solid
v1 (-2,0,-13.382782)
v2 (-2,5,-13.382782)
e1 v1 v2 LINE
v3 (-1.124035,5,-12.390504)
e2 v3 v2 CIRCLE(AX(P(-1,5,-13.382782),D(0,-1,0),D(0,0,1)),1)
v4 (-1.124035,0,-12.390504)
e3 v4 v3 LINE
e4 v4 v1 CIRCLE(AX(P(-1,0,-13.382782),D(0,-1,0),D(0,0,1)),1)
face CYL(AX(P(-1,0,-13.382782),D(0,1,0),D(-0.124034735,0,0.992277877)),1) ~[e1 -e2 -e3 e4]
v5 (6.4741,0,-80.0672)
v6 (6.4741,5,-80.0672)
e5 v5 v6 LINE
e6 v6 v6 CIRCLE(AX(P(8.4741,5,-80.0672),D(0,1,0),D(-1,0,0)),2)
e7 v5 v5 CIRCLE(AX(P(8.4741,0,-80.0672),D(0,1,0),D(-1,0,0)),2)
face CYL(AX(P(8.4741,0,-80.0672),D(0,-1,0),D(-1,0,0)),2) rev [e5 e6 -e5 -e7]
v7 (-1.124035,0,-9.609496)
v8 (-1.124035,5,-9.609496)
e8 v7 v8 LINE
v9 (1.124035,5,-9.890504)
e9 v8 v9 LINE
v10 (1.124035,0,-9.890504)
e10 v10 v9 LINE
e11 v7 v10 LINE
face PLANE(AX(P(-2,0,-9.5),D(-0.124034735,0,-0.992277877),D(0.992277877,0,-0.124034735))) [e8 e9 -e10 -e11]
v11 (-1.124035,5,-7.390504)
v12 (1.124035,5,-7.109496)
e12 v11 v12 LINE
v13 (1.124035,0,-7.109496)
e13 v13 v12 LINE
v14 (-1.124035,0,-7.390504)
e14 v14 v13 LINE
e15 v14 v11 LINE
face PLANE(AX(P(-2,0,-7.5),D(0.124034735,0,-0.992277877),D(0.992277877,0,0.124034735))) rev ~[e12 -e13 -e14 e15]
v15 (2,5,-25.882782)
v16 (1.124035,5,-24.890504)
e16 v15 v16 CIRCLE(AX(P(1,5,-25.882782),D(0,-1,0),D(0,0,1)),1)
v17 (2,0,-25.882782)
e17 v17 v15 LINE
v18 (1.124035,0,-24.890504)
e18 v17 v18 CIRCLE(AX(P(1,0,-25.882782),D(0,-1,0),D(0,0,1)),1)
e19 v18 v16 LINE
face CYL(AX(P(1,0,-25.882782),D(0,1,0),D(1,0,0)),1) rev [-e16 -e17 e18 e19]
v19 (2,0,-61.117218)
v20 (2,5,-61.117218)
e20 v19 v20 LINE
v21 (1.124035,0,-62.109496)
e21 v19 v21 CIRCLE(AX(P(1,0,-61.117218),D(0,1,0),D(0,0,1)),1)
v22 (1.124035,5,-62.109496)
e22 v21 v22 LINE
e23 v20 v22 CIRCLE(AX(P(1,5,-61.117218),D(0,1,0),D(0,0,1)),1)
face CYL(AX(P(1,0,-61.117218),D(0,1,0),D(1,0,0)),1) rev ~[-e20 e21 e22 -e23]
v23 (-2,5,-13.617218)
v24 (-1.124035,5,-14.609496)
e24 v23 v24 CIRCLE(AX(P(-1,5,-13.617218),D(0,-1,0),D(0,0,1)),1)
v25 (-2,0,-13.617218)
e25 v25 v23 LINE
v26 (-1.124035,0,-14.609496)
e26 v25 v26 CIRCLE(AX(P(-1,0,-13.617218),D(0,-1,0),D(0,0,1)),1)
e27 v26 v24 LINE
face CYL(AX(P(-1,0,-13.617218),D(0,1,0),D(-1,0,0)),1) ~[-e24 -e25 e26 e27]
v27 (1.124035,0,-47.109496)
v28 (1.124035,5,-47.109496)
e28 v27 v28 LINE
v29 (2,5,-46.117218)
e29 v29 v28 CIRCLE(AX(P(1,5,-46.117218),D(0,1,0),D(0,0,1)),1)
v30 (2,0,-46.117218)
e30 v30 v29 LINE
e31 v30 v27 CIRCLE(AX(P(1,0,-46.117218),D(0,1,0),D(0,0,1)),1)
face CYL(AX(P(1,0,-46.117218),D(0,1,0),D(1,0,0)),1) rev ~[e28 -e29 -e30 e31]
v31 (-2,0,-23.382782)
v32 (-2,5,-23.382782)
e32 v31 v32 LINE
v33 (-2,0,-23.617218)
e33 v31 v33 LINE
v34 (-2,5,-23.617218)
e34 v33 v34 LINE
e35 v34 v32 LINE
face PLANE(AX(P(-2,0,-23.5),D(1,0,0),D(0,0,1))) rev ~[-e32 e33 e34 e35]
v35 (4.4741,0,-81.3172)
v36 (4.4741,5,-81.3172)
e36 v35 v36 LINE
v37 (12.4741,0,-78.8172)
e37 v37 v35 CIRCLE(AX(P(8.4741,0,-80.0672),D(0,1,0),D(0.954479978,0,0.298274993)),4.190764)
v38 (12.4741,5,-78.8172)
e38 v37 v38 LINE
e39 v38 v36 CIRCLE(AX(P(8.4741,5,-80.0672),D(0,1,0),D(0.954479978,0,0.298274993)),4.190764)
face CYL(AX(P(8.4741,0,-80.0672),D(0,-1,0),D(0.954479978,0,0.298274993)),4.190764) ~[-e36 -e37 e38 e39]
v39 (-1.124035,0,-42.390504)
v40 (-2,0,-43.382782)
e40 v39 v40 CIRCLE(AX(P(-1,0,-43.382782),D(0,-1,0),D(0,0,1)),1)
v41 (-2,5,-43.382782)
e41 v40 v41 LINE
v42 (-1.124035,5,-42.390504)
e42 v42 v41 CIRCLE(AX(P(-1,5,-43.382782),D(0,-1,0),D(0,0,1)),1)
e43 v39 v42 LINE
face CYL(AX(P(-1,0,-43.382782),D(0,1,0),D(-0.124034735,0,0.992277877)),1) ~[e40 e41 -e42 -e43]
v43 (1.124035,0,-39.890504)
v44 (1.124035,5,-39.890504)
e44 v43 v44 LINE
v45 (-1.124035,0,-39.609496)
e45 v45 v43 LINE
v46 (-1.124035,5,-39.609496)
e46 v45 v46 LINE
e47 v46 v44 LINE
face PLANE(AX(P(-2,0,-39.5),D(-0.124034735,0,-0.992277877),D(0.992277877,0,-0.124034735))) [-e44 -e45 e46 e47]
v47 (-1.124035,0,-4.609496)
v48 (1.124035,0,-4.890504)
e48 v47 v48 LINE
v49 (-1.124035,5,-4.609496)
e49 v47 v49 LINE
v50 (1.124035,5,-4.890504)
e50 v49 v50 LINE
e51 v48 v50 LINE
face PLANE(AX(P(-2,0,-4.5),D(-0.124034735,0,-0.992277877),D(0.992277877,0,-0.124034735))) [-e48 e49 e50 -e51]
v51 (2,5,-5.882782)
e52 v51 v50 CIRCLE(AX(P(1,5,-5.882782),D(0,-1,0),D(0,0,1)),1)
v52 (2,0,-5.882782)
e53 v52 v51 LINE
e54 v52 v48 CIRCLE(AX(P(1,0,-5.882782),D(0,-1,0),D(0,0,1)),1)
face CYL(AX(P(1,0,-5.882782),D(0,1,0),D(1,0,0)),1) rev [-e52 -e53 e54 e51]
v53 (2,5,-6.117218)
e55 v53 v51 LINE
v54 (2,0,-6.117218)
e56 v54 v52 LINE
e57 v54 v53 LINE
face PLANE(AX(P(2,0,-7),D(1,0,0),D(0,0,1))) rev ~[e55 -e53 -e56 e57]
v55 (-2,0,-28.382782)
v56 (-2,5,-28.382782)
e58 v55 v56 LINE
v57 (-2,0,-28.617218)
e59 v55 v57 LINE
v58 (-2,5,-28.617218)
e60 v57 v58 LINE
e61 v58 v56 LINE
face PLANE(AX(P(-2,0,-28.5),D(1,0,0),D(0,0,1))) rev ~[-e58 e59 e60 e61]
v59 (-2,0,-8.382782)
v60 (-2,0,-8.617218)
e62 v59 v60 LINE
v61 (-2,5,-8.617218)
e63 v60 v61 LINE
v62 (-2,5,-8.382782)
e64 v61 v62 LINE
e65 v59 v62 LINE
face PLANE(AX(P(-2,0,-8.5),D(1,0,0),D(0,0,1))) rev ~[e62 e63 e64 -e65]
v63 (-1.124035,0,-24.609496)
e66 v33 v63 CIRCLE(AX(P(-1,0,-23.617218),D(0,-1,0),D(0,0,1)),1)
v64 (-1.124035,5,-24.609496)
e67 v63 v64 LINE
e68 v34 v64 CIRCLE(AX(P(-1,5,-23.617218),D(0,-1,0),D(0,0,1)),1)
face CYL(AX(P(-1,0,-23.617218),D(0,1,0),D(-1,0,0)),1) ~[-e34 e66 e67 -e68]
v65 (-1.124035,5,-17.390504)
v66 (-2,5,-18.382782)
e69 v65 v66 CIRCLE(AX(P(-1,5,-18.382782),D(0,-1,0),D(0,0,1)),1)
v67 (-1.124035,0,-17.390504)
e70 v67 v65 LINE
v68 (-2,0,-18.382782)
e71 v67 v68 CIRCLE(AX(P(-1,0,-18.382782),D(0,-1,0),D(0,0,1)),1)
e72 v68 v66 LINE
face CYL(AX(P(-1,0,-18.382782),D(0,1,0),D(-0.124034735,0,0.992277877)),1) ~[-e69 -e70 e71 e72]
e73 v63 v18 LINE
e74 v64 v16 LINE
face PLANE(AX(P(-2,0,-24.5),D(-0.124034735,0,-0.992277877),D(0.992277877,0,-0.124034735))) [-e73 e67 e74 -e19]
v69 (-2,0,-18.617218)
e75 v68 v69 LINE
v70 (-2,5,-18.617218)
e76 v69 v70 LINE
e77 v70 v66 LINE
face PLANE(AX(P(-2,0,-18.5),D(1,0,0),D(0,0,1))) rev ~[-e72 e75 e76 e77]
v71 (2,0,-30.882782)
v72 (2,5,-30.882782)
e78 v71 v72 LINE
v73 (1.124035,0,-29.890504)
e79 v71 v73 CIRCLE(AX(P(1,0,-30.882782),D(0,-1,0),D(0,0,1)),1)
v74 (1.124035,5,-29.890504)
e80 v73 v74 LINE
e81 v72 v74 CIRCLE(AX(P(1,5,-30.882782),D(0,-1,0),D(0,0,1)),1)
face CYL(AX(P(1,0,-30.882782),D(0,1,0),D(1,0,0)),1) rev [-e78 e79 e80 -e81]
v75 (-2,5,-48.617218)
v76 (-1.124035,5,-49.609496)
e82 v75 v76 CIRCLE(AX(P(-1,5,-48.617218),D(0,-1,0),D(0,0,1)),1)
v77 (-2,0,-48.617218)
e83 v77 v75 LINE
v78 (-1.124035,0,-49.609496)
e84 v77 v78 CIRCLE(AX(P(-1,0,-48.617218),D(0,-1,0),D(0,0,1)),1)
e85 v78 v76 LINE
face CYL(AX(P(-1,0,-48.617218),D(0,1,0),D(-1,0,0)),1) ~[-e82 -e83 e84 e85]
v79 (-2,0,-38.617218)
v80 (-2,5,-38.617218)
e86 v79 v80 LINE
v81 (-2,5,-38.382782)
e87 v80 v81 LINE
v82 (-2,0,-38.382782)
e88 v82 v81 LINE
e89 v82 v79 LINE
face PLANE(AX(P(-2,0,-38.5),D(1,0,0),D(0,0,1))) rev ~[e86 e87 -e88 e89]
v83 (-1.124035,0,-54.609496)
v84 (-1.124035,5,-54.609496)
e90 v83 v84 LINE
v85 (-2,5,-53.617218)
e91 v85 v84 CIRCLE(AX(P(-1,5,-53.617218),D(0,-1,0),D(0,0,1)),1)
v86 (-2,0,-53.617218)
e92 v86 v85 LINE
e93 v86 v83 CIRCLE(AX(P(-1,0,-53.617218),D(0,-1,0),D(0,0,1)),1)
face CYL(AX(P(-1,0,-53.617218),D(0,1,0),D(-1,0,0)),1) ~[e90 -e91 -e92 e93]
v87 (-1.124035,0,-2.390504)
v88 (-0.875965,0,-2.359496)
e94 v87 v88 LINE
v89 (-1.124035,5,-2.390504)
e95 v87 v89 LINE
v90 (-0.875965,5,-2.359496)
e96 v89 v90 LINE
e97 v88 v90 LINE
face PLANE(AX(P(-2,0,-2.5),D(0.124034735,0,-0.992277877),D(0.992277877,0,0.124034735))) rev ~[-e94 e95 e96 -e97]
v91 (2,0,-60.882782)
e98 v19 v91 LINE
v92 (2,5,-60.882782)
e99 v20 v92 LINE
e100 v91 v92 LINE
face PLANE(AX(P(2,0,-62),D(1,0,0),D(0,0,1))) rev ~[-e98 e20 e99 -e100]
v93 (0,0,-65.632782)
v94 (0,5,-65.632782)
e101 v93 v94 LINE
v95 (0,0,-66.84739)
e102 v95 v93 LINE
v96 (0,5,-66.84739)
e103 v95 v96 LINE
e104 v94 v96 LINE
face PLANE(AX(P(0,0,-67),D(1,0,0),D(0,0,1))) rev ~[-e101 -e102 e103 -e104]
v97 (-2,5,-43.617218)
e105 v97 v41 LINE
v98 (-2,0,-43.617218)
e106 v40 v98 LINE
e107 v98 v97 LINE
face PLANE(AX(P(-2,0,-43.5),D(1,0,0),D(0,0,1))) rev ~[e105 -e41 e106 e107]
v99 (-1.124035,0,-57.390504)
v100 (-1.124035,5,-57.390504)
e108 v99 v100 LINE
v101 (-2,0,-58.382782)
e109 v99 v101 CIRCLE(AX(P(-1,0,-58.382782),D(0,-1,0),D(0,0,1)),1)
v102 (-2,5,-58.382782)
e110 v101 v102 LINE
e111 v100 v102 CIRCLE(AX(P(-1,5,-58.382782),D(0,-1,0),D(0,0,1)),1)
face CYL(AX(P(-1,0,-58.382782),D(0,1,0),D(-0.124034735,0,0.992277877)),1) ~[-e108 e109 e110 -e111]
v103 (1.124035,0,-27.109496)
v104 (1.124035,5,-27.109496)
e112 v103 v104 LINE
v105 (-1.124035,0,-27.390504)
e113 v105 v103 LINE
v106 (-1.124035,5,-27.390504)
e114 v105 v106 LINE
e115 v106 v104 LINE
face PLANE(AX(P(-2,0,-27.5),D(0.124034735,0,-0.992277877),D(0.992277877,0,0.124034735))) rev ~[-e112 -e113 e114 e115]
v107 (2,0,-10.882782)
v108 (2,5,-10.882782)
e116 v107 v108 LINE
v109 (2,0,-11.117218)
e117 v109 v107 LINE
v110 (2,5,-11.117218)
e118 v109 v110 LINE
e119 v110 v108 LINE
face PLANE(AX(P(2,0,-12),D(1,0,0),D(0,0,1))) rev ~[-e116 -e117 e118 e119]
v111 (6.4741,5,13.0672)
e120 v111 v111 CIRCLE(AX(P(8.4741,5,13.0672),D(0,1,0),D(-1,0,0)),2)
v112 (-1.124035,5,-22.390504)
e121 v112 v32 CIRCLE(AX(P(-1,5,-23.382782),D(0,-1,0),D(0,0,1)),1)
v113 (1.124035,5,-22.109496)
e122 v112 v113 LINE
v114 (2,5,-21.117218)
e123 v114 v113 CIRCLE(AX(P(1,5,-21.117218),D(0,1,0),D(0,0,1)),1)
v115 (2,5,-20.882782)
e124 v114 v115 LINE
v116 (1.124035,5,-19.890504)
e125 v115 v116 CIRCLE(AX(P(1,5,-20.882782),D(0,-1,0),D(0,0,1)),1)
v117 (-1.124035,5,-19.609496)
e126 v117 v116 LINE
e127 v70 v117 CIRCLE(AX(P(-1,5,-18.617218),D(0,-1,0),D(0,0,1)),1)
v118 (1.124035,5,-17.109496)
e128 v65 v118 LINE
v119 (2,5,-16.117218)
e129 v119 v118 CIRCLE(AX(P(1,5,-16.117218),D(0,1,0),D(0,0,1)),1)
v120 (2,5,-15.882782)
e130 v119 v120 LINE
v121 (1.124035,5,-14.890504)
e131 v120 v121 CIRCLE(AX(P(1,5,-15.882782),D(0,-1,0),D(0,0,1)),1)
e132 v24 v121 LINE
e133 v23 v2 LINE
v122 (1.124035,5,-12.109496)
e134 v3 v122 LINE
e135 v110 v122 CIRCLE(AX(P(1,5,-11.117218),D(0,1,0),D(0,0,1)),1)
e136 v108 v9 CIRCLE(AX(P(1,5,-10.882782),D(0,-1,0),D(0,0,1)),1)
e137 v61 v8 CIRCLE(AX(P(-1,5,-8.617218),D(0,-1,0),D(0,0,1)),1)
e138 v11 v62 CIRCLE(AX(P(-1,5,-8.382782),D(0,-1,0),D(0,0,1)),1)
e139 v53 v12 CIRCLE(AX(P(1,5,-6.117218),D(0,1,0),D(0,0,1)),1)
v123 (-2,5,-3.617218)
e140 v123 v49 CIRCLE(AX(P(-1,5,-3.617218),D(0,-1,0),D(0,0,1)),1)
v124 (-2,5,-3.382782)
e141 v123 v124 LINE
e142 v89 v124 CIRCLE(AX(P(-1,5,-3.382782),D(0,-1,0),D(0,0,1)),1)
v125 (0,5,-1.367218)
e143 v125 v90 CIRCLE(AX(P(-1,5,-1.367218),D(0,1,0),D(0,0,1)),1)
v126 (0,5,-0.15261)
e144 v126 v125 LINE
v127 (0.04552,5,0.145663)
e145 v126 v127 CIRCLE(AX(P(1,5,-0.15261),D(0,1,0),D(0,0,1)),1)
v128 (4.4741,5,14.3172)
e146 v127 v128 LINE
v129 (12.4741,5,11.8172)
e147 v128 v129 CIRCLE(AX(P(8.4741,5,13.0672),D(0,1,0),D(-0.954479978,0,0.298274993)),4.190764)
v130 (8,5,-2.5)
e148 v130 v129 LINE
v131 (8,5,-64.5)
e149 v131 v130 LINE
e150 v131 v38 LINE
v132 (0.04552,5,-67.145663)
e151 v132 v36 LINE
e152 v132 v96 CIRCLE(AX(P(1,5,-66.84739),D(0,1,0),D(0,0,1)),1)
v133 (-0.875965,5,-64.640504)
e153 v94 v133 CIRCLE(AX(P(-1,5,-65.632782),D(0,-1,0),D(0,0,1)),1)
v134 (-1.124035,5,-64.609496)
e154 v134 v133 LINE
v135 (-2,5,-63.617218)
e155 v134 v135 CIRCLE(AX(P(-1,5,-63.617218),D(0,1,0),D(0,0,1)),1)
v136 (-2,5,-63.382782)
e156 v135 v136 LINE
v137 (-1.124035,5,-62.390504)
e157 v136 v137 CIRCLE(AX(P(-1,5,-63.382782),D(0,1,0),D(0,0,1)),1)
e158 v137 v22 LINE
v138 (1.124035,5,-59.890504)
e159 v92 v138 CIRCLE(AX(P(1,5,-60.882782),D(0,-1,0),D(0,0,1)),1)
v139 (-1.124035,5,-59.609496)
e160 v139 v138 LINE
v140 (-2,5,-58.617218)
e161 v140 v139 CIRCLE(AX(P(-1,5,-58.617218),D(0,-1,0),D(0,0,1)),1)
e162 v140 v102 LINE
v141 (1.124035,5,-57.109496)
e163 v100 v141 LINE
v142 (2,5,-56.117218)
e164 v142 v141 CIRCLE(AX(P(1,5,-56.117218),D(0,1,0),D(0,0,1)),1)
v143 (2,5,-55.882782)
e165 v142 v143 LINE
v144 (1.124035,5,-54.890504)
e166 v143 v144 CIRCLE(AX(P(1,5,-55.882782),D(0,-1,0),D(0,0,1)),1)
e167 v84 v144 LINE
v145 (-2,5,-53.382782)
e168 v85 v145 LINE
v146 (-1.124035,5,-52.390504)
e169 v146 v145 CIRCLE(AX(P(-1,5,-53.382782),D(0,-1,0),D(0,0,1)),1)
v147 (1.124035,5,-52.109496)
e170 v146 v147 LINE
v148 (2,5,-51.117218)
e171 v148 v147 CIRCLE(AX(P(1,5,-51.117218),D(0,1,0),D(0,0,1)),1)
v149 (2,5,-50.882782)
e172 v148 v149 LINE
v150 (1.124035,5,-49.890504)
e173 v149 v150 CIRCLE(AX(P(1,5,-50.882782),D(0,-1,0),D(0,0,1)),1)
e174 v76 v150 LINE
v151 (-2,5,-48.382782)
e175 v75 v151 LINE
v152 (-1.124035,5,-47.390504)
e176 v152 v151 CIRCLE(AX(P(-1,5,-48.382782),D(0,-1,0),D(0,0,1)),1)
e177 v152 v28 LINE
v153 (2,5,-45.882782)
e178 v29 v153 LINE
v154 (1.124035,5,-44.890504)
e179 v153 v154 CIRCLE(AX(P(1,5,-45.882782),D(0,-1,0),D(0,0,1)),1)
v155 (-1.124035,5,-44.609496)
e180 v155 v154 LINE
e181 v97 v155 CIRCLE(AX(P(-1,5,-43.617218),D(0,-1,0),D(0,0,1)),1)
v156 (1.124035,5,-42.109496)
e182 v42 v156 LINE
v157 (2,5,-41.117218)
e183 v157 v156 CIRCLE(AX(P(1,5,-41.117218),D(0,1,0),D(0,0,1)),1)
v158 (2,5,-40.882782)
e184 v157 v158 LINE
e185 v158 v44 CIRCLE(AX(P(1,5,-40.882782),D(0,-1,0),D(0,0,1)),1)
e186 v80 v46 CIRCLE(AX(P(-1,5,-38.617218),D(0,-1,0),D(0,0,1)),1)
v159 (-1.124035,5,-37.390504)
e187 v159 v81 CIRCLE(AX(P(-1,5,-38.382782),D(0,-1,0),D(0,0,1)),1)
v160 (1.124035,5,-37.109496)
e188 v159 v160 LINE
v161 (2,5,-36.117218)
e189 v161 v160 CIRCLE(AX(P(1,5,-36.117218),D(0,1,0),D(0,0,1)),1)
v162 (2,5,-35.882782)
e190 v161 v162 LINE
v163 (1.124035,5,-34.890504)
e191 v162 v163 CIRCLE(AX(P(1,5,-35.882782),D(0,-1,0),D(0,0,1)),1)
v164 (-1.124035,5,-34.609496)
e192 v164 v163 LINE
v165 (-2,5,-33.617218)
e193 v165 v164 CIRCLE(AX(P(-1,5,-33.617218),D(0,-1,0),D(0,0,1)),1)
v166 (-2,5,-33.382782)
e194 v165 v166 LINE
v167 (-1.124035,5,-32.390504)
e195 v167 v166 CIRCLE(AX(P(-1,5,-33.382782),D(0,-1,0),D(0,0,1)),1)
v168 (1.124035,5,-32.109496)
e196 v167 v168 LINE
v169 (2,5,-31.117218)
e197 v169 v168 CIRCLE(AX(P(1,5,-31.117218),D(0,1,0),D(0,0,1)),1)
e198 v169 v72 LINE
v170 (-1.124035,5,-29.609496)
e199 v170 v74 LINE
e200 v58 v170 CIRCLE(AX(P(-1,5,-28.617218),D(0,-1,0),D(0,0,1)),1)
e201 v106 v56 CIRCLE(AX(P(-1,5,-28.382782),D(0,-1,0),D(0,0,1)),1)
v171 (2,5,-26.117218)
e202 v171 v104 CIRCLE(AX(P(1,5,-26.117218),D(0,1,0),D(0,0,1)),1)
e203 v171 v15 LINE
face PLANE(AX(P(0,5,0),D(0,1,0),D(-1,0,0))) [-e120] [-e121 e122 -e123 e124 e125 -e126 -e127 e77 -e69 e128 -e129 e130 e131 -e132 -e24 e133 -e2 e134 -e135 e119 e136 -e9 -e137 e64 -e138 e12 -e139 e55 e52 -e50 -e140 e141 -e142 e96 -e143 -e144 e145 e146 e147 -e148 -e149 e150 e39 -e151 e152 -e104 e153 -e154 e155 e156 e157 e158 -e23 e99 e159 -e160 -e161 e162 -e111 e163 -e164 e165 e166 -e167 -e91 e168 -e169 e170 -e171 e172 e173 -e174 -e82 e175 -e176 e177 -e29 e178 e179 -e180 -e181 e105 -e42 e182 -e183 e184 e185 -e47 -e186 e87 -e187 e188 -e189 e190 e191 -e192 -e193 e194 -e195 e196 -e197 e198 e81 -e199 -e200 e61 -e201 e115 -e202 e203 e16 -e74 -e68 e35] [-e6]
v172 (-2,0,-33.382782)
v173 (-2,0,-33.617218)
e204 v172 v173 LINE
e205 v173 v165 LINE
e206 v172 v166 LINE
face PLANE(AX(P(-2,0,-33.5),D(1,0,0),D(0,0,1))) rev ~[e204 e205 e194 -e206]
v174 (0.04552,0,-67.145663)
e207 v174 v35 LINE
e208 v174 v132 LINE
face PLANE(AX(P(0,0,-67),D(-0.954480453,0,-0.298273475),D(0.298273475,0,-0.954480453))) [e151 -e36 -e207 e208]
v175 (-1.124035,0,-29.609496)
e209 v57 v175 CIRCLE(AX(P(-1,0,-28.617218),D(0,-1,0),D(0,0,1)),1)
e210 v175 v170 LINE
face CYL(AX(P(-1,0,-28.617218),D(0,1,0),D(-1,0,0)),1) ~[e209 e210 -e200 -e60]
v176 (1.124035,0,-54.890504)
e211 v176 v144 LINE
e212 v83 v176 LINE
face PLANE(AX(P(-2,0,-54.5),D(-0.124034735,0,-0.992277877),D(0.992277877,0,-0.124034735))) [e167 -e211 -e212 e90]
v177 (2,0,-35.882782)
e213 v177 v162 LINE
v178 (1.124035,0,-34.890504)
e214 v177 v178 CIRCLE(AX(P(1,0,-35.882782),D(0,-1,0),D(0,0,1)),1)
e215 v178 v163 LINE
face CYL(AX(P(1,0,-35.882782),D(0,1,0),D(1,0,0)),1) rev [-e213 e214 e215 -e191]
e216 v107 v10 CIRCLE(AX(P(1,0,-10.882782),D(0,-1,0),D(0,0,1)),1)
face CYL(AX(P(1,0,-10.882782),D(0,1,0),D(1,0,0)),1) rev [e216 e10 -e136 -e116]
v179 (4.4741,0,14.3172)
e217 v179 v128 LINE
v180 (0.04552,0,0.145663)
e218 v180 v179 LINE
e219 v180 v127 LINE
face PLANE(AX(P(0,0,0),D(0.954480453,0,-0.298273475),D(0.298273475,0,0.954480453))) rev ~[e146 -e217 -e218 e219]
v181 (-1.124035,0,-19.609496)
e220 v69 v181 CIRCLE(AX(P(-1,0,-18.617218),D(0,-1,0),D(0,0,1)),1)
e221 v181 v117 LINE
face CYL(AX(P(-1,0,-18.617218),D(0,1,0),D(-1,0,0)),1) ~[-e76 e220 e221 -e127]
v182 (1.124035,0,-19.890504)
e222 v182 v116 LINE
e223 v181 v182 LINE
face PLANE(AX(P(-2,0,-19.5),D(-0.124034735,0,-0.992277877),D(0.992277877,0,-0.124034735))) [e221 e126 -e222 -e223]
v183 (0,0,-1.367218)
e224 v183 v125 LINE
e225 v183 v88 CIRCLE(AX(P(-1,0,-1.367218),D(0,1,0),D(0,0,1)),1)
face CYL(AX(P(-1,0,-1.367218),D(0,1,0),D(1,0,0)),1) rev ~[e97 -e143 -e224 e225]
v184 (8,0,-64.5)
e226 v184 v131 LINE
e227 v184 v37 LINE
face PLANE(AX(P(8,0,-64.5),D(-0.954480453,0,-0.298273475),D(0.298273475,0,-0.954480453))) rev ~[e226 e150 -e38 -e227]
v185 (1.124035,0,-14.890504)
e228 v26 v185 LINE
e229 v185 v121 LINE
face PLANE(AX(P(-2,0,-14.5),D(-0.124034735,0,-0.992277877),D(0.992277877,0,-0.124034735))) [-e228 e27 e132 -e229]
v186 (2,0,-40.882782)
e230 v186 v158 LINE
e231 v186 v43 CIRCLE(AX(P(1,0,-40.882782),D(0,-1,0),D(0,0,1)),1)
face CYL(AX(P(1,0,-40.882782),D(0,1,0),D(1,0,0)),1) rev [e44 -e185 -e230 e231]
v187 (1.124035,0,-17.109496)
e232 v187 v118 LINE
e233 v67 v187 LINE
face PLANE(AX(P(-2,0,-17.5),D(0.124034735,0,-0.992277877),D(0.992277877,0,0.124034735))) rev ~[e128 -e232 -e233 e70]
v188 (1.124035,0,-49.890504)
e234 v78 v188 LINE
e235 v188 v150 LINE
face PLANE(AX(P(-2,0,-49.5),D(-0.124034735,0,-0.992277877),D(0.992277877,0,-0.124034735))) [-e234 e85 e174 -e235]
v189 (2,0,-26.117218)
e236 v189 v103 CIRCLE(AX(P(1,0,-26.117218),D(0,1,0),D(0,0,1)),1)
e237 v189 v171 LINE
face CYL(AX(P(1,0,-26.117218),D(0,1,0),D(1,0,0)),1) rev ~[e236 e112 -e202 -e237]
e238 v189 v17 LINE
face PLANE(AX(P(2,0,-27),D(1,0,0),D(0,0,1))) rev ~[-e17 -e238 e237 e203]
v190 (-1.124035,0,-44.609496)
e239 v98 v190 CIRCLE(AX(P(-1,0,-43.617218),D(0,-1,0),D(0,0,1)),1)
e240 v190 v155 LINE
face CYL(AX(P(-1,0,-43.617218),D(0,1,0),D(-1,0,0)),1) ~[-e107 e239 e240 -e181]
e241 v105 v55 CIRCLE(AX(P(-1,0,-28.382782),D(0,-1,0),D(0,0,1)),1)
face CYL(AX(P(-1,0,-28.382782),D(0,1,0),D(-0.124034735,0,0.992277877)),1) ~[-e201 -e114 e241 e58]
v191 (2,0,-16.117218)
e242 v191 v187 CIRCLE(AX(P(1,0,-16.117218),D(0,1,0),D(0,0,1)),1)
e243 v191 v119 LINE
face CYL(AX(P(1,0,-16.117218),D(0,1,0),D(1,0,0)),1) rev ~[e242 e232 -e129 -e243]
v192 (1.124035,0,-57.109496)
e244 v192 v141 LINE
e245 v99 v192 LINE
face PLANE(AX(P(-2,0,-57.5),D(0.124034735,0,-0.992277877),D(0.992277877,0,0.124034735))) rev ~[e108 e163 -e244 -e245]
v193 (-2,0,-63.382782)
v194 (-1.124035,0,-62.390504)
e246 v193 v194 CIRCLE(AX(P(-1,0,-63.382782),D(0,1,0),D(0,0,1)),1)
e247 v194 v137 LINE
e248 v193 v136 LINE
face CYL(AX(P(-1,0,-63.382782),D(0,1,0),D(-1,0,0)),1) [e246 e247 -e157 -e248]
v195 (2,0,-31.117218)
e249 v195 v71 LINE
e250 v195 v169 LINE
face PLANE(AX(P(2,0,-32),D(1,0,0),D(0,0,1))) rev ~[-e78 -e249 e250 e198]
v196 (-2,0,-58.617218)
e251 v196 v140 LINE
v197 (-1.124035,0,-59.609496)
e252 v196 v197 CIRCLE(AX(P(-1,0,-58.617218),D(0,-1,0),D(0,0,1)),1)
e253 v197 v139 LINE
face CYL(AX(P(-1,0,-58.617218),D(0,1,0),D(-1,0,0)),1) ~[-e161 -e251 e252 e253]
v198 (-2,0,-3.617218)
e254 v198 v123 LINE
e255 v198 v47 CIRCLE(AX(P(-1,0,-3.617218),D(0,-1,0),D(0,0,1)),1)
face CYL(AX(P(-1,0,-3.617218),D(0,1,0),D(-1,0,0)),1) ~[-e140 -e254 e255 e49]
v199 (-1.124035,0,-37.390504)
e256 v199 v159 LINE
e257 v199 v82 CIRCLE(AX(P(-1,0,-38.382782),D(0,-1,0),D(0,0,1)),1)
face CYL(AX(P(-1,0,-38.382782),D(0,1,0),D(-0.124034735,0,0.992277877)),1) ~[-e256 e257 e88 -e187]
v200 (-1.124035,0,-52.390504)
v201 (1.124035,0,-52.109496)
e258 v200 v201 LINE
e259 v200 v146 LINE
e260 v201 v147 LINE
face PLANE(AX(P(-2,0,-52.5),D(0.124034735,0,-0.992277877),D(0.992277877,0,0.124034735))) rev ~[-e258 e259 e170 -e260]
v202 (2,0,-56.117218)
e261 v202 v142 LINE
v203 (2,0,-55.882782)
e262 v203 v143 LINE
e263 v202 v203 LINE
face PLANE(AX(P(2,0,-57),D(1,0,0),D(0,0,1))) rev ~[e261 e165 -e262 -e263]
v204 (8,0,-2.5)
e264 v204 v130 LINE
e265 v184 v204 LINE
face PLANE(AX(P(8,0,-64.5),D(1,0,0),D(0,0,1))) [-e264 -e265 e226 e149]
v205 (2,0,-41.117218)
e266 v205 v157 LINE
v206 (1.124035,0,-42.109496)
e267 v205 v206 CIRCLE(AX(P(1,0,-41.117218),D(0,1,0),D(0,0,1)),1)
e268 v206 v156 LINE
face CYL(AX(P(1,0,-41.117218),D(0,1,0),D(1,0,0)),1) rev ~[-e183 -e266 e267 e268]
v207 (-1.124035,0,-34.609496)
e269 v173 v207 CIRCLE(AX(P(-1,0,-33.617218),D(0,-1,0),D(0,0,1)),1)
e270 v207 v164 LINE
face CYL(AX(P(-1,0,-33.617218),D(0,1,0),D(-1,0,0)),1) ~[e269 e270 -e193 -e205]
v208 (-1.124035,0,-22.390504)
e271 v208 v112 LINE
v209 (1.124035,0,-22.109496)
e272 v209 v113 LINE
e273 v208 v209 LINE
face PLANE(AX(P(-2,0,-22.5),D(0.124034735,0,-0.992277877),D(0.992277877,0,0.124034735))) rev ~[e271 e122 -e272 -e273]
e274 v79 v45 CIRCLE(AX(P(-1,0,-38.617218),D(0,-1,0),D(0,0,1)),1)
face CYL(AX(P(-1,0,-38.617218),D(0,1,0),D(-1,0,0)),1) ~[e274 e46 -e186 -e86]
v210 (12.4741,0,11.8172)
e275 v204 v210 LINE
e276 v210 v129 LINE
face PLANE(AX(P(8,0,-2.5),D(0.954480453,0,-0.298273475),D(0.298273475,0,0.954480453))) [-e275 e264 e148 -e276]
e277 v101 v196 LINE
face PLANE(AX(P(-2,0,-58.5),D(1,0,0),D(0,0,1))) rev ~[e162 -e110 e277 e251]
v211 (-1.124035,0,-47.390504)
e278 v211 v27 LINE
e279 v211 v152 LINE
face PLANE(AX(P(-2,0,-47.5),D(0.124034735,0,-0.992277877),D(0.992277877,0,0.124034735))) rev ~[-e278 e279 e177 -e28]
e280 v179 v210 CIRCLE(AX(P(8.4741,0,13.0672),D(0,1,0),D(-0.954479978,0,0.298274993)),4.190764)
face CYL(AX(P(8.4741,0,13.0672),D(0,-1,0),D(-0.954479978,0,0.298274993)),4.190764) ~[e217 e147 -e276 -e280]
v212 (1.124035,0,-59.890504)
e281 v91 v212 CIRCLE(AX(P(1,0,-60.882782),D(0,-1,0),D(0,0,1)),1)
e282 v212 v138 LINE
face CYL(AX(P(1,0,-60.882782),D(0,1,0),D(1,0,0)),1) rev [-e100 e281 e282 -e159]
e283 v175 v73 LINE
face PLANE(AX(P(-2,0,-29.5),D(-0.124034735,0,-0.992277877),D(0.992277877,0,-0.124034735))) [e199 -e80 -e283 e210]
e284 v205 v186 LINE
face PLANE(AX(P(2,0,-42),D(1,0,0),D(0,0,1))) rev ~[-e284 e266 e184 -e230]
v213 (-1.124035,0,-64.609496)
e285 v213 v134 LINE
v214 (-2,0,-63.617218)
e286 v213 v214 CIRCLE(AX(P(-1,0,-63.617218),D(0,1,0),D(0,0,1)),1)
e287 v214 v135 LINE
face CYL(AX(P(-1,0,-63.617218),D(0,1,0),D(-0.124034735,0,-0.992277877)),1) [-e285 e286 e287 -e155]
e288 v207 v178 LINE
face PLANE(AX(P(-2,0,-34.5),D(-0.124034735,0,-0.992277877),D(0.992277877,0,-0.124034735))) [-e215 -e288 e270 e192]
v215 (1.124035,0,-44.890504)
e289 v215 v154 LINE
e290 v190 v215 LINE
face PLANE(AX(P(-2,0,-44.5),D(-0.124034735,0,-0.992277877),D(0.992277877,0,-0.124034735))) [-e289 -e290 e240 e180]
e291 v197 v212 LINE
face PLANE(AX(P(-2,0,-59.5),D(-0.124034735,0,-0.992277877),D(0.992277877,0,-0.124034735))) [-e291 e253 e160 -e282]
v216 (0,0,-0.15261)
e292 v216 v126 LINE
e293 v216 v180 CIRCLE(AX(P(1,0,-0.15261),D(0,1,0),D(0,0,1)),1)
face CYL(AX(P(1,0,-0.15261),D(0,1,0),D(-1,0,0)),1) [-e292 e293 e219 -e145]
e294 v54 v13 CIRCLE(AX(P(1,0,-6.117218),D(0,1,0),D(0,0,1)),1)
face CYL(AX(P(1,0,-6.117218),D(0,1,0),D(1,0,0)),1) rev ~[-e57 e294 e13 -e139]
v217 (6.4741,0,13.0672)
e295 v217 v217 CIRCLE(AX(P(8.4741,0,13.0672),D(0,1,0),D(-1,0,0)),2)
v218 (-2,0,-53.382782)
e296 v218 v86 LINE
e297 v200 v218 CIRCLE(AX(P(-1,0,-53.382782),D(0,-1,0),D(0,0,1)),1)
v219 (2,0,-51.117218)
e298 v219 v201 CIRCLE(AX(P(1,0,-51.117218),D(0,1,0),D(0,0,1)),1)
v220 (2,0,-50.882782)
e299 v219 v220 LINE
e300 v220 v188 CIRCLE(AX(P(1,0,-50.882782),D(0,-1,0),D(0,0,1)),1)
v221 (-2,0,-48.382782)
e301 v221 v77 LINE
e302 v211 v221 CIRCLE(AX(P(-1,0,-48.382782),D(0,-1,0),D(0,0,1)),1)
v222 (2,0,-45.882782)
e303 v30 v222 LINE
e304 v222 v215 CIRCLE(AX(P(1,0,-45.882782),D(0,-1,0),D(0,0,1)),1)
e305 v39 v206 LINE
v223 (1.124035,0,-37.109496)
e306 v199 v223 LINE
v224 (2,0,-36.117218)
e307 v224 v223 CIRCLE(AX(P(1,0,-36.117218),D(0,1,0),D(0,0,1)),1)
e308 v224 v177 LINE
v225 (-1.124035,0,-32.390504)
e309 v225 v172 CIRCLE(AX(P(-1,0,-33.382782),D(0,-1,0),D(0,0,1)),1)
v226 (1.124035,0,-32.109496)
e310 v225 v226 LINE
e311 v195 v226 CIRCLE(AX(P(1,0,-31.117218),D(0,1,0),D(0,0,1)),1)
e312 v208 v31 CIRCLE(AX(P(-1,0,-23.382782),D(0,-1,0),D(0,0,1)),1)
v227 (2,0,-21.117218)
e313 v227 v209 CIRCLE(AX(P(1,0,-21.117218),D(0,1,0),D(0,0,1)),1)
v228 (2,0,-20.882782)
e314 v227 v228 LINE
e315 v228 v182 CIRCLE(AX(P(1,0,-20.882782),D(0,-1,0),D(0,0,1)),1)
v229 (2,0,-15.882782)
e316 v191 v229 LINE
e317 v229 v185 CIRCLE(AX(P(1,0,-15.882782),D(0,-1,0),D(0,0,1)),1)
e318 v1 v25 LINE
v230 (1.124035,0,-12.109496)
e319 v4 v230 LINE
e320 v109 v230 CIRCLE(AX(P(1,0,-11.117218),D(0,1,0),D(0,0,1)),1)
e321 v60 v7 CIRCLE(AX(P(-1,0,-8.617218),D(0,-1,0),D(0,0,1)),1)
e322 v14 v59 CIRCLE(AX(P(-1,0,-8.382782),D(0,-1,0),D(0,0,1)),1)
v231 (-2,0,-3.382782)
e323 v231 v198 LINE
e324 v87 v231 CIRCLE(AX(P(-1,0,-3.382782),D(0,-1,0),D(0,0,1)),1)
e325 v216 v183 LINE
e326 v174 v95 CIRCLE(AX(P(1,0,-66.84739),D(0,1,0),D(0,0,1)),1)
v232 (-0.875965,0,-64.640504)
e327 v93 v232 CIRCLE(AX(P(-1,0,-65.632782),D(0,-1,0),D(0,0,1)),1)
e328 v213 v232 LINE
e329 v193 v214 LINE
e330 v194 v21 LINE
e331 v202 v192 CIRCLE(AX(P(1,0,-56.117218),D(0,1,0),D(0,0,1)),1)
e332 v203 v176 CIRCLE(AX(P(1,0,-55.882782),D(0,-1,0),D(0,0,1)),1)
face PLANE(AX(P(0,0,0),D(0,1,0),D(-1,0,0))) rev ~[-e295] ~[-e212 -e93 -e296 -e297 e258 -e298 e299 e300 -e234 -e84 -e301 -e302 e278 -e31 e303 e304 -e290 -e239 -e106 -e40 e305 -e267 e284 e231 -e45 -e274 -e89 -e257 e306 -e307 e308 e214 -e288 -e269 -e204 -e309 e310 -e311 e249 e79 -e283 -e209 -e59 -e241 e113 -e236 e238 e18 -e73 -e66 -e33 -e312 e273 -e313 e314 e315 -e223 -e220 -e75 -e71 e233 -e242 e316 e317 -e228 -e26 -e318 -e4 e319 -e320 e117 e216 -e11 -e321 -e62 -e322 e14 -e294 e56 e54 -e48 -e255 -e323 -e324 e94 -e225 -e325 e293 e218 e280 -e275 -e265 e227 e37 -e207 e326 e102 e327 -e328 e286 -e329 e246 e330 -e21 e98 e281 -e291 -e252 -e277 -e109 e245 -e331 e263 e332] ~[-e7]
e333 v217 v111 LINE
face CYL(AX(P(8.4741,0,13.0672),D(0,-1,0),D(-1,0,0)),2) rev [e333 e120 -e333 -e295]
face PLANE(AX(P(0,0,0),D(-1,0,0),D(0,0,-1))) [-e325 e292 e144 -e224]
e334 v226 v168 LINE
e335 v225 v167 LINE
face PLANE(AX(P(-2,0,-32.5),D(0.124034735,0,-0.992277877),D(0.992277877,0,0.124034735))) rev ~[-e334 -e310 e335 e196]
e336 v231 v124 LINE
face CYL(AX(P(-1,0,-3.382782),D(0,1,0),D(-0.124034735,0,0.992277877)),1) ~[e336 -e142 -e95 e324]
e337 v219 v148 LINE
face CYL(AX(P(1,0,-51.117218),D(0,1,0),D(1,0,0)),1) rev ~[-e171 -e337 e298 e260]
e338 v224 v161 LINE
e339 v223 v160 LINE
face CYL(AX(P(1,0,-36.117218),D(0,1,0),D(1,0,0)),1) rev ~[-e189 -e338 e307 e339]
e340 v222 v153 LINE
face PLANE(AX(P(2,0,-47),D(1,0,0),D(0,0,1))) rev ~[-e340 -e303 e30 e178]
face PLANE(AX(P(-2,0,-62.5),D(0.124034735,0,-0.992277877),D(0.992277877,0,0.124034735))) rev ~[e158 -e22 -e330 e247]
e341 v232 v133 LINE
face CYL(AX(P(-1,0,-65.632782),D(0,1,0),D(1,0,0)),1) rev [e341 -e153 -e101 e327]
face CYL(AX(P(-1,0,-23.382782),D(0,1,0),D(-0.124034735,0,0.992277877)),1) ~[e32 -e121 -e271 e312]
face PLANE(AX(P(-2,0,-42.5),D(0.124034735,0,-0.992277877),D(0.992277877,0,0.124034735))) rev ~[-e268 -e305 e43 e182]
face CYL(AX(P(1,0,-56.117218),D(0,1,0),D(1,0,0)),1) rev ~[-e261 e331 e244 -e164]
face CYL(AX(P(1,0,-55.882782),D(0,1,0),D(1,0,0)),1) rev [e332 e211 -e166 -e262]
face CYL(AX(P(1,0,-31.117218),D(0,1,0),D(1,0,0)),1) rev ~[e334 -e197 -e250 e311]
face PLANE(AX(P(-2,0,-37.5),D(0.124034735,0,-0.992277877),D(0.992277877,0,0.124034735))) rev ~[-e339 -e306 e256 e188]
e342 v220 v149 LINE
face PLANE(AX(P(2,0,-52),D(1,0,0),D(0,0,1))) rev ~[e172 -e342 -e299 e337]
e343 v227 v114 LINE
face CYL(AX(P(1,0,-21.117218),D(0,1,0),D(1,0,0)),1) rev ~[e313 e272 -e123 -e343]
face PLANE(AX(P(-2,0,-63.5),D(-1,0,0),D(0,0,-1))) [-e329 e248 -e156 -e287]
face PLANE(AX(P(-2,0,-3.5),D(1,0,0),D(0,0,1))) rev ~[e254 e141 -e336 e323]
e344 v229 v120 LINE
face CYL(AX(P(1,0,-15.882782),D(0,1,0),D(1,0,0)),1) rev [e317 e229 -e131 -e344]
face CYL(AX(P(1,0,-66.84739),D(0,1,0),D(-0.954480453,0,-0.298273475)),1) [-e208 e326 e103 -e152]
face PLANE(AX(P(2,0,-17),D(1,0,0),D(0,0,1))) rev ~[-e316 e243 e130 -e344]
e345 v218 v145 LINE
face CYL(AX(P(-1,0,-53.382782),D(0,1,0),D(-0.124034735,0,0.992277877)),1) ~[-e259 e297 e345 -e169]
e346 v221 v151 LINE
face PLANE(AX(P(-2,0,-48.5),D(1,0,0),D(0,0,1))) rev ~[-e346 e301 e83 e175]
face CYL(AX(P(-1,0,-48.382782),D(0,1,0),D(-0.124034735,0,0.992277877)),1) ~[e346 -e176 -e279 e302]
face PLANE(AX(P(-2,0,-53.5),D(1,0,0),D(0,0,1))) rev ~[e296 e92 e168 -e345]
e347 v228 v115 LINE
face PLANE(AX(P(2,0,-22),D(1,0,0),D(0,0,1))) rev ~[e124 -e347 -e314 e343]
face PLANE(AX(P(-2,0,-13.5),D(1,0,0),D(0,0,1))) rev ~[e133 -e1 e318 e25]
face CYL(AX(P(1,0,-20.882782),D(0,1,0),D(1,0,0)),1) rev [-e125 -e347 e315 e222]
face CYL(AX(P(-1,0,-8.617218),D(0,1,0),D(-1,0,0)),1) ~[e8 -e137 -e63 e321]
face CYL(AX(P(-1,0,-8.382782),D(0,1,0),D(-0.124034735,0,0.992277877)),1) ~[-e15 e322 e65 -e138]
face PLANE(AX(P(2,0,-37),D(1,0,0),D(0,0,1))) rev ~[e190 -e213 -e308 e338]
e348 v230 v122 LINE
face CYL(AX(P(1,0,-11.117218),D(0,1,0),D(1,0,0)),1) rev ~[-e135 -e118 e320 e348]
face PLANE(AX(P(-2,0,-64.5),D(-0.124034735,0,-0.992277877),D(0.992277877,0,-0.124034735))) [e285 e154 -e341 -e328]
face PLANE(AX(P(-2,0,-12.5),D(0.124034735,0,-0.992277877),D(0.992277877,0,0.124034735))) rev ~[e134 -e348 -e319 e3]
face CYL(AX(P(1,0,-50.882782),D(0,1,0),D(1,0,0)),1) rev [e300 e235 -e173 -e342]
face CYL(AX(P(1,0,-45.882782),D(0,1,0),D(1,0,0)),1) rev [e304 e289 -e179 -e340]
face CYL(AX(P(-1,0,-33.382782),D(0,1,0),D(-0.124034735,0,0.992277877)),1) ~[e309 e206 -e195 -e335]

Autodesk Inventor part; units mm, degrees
ref_plane "YZ Plane" through (0, 0, 0) normal (1, 0, 0) x (0, 1, 0)
ref_plane "XZ Plane" through (0, 0, 0) normal (0, 1, 0) x (-1, 0, 0)
ref_plane "XY Plane" through (0, 0, 0) normal (0, 0, 1) x (1, 0, 0)
sketch "Boceto1" plane through (0, 0, 0) normal (0, 1, 0) x (-1, 0, 0)
  line L0 (0, -67) -> (-8, -64.5)
  line L1 (-8, -2.5) -> (0, 0)
  line L2 (-8, -64.5) -> (-12.4741, -78.8172)
  line L3 (0, -67) -> (-4.4741, -81.3172)
  circle A0 centre (-8.4741, -80.0672) radius 2
  arc A1 (-12.4741, -78.8172) -> (-4.4741, -81.3172) centre (-8.4741, -80.0672) ccw
  line L4 (0, 0) -> (-8, -2.5)
  line L5 (-8, -2.5) -> (-12.4741, 11.8172)
  line L6 (0, 0) -> (-4.4741, 14.3172)
  circle A2 centre (-8.4741, 13.0672) radius 2
  arc A3 (-4.4741, 14.3172) -> (-12.4741, 11.8172) centre (-8.4741, 13.0672) ccw
  line L7 (-2, -65) -> (-2, -3)
  line L8 (0, -67) -> (0, -65)
  line L9 (-8, -64.5) -> (-8, -2.5)
  line L10 (-2, -65) -> (-2, -64.5)
  line L11 (-2, -64.5) -> (-2, -63.5)
  line L12 (2, -63.5) -> (2, -64.5)
  line L13 (2, -64.5) -> (-2, -65)
  line L14 (2, -63.5) -> (2, -62.5)
  line L15 (2, -62.5) -> (-2, -62)
  line L16 (-2, -62) -> (-2, -60)
  line L17 (-2, -60) -> (-2, -58.5)
  line L18 (2, -59.5) -> (-2, -60)
  line L19 (2, -58.5) -> (2, -59.5)
  line L20 (2, -58.5) -> (2, -57.5)
  line L21 (2, -57.5) -> (-2, -57)
  line L22 (2, -54.5) -> (-2, -55)
  line L23 (2, -53.5) -> (2, -54.5)
  line L24 (2, -53.5) -> (2, -52.5)
  line L25 (2, -52.5) -> (-2, -52)
  line L26 (2, -49.5) -> (-2, -50)
  line L27 (2, -48.5) -> (2, -49.5)
  line L28 (2, -48.5) -> (2, -47.5)
  line L29 (2, -47.5) -> (-2, -47)
  line L30 (2, -44.5) -> (-2, -45)
  line L31 (2, -43.5) -> (2, -44.5)
  line L32 (2, -43.5) -> (2, -42.5)
  line L33 (2, -42.5) -> (-2, -42)
  line L34 (2, -39.5) -> (-2, -40)
  line L35 (2, -38.5) -> (2, -39.5)
  line L36 (2, -38.5) -> (2, -37.5)
  line L37 (2, -37.5) -> (-2, -37)
  line L38 (2, -34.5) -> (-2, -35)
  line L39 (2, -33.5) -> (2, -34.5)
  line L40 (2, -33.5) -> (2, -32.5)
  line L41 (2, -32.5) -> (-2, -32)
  line L42 (2, -29.5) -> (-2, -30)
  line L43 (2, -28.5) -> (2, -29.5)
  line L44 (2, -28.5) -> (2, -27.5)
  line L45 (2, -27.5) -> (-2, -27)
  line L46 (2, -24.5) -> (-2, -25)
  line L47 (2, -23.5) -> (2, -24.5)
  line L48 (2, -23.5) -> (2, -22.5)
  line L49 (2, -22.5) -> (-2, -22)
  line L50 (2, -19.5) -> (-2, -20)
  line L51 (2, -18.5) -> (2, -19.5)
  line L52 (2, -18.5) -> (2, -17.5)
  line L53 (2, -17.5) -> (-2, -17)
  line L54 (2, -14.5) -> (-2, -15)
  line L55 (2, -13.5) -> (2, -14.5)
  line L56 (2, -13.5) -> (2, -12.5)
  line L57 (2, -12.5) -> (-2, -12)
  line L58 (2, -9.5) -> (-2, -10)
  line L59 (2, -8.5) -> (2, -9.5)
  line L60 (2, -8.5) -> (2, -7.5)
  line L61 (2, -7.5) -> (-2, -7)
  line L62 (2, -4.5) -> (-2, -5)
  line L63 (2, -3.5) -> (2, -4.5)
  line L64 (2, -3.5) -> (2, -2.5)
  line L65 (2, -2.5) -> (-2, -2)
  line L66 (-2, -2) -> (-2, -3)
  line L67 (0, 0) -> (0, -2.25)
  line L68 (0, -65) -> (0, -64.75)
  point P0 (0, -65)
  point P1 (-2, -62)
  point P2 (-2, -57)
  point P3 (-2, -55)
  point P4 (-2, -52)
  point P5 (-2, -50)
  point P6 (-2, -47)
  point P7 (-2, -45)
  point P8 (-2, -42)
  point P9 (-2, -40)
  point P10 (-2, -37)
  point P11 (-2, -35)
  point P12 (-2, -32)
  point P13 (-2, -30)
  point P14 (-2, -27)
  point P15 (-2, -25)
  point P16 (-2, -22)
  point P17 (-2, -10)
  point P18 (-2, -7)
  point P19 (-2, -5)
  dimension "d0" = 67
  dimension "d6" = 4
  dimension "d20" = 2
  dimension "d22" = 0.5
  dimension "d23" = 1
  dimension "d25" = 1
  dimension "d27" = 2
  dimension "d28" = 1.5
  dimension "d32" = 5
extrude "Extrusión1" add sketch "Boceto1" along normal blind 5
fillet "Empalme1" radius 1 54 edges at (0, 2.5, 0) (0, 2.5, -2.25) (-2, 2.5, -2.5) (-2, 2.5, -4.5) (2, 2.5, -5) (-2, 2.5, -7.5) (2, 2.5, -7) (2, 2.5, -10) (-2, 2.5, -9.5) (-2, 2.5, -12.5) (-2, 2.5, -14.5) (2, 2.5, -12) (2, 2.5, -15) (2, 2.5, -17) (-2, 2.5, -17.5) (-2, 2.5, -19.5) (2, 2.5, -20) (2, 2.5, -22) (-2, 2.5, -22.5) (-2, 2.5, -24.5) (2, 2.5, -25) (2, 2.5, -27) (-2, 2.5, -27.5) (-2, 2.5, -29.5) (2, 2.5, -30) (2, 2.5, -35) (2, 2.5, -32) (-2, 2.5, -32.5) (-2, 2.5, -34.5) (2, 2.5, -37) (-2, 2.5, -37.5) (-2, 2.5, -39.5) (2, 2.5, -40) (2, 2.5, -42) (-2, 2.5, -42.5) (-2, 2.5, -44.5) (2, 2.5, -45) (2, 2.5, -47) (-2, 2.5, -47.5) (-2, 2.5, -49.5) (2, 2.5, -50) (2, 2.5, -52) (-2, 2.5, -52.5) (-2, 2.5, -54.5) (2, 2.5, -55) (2, 2.5, -57) (-2, 2.5, -57.5) (-2, 2.5, -59.5) (2, 2.5, -60) (2, 2.5, -62) (-2, 2.5, -62.5) (-2, 2.5, -64.5) (0, 2.5, -67) (0, 2.5, -64.75)
properties part number "Direcciondeopalaaa"
